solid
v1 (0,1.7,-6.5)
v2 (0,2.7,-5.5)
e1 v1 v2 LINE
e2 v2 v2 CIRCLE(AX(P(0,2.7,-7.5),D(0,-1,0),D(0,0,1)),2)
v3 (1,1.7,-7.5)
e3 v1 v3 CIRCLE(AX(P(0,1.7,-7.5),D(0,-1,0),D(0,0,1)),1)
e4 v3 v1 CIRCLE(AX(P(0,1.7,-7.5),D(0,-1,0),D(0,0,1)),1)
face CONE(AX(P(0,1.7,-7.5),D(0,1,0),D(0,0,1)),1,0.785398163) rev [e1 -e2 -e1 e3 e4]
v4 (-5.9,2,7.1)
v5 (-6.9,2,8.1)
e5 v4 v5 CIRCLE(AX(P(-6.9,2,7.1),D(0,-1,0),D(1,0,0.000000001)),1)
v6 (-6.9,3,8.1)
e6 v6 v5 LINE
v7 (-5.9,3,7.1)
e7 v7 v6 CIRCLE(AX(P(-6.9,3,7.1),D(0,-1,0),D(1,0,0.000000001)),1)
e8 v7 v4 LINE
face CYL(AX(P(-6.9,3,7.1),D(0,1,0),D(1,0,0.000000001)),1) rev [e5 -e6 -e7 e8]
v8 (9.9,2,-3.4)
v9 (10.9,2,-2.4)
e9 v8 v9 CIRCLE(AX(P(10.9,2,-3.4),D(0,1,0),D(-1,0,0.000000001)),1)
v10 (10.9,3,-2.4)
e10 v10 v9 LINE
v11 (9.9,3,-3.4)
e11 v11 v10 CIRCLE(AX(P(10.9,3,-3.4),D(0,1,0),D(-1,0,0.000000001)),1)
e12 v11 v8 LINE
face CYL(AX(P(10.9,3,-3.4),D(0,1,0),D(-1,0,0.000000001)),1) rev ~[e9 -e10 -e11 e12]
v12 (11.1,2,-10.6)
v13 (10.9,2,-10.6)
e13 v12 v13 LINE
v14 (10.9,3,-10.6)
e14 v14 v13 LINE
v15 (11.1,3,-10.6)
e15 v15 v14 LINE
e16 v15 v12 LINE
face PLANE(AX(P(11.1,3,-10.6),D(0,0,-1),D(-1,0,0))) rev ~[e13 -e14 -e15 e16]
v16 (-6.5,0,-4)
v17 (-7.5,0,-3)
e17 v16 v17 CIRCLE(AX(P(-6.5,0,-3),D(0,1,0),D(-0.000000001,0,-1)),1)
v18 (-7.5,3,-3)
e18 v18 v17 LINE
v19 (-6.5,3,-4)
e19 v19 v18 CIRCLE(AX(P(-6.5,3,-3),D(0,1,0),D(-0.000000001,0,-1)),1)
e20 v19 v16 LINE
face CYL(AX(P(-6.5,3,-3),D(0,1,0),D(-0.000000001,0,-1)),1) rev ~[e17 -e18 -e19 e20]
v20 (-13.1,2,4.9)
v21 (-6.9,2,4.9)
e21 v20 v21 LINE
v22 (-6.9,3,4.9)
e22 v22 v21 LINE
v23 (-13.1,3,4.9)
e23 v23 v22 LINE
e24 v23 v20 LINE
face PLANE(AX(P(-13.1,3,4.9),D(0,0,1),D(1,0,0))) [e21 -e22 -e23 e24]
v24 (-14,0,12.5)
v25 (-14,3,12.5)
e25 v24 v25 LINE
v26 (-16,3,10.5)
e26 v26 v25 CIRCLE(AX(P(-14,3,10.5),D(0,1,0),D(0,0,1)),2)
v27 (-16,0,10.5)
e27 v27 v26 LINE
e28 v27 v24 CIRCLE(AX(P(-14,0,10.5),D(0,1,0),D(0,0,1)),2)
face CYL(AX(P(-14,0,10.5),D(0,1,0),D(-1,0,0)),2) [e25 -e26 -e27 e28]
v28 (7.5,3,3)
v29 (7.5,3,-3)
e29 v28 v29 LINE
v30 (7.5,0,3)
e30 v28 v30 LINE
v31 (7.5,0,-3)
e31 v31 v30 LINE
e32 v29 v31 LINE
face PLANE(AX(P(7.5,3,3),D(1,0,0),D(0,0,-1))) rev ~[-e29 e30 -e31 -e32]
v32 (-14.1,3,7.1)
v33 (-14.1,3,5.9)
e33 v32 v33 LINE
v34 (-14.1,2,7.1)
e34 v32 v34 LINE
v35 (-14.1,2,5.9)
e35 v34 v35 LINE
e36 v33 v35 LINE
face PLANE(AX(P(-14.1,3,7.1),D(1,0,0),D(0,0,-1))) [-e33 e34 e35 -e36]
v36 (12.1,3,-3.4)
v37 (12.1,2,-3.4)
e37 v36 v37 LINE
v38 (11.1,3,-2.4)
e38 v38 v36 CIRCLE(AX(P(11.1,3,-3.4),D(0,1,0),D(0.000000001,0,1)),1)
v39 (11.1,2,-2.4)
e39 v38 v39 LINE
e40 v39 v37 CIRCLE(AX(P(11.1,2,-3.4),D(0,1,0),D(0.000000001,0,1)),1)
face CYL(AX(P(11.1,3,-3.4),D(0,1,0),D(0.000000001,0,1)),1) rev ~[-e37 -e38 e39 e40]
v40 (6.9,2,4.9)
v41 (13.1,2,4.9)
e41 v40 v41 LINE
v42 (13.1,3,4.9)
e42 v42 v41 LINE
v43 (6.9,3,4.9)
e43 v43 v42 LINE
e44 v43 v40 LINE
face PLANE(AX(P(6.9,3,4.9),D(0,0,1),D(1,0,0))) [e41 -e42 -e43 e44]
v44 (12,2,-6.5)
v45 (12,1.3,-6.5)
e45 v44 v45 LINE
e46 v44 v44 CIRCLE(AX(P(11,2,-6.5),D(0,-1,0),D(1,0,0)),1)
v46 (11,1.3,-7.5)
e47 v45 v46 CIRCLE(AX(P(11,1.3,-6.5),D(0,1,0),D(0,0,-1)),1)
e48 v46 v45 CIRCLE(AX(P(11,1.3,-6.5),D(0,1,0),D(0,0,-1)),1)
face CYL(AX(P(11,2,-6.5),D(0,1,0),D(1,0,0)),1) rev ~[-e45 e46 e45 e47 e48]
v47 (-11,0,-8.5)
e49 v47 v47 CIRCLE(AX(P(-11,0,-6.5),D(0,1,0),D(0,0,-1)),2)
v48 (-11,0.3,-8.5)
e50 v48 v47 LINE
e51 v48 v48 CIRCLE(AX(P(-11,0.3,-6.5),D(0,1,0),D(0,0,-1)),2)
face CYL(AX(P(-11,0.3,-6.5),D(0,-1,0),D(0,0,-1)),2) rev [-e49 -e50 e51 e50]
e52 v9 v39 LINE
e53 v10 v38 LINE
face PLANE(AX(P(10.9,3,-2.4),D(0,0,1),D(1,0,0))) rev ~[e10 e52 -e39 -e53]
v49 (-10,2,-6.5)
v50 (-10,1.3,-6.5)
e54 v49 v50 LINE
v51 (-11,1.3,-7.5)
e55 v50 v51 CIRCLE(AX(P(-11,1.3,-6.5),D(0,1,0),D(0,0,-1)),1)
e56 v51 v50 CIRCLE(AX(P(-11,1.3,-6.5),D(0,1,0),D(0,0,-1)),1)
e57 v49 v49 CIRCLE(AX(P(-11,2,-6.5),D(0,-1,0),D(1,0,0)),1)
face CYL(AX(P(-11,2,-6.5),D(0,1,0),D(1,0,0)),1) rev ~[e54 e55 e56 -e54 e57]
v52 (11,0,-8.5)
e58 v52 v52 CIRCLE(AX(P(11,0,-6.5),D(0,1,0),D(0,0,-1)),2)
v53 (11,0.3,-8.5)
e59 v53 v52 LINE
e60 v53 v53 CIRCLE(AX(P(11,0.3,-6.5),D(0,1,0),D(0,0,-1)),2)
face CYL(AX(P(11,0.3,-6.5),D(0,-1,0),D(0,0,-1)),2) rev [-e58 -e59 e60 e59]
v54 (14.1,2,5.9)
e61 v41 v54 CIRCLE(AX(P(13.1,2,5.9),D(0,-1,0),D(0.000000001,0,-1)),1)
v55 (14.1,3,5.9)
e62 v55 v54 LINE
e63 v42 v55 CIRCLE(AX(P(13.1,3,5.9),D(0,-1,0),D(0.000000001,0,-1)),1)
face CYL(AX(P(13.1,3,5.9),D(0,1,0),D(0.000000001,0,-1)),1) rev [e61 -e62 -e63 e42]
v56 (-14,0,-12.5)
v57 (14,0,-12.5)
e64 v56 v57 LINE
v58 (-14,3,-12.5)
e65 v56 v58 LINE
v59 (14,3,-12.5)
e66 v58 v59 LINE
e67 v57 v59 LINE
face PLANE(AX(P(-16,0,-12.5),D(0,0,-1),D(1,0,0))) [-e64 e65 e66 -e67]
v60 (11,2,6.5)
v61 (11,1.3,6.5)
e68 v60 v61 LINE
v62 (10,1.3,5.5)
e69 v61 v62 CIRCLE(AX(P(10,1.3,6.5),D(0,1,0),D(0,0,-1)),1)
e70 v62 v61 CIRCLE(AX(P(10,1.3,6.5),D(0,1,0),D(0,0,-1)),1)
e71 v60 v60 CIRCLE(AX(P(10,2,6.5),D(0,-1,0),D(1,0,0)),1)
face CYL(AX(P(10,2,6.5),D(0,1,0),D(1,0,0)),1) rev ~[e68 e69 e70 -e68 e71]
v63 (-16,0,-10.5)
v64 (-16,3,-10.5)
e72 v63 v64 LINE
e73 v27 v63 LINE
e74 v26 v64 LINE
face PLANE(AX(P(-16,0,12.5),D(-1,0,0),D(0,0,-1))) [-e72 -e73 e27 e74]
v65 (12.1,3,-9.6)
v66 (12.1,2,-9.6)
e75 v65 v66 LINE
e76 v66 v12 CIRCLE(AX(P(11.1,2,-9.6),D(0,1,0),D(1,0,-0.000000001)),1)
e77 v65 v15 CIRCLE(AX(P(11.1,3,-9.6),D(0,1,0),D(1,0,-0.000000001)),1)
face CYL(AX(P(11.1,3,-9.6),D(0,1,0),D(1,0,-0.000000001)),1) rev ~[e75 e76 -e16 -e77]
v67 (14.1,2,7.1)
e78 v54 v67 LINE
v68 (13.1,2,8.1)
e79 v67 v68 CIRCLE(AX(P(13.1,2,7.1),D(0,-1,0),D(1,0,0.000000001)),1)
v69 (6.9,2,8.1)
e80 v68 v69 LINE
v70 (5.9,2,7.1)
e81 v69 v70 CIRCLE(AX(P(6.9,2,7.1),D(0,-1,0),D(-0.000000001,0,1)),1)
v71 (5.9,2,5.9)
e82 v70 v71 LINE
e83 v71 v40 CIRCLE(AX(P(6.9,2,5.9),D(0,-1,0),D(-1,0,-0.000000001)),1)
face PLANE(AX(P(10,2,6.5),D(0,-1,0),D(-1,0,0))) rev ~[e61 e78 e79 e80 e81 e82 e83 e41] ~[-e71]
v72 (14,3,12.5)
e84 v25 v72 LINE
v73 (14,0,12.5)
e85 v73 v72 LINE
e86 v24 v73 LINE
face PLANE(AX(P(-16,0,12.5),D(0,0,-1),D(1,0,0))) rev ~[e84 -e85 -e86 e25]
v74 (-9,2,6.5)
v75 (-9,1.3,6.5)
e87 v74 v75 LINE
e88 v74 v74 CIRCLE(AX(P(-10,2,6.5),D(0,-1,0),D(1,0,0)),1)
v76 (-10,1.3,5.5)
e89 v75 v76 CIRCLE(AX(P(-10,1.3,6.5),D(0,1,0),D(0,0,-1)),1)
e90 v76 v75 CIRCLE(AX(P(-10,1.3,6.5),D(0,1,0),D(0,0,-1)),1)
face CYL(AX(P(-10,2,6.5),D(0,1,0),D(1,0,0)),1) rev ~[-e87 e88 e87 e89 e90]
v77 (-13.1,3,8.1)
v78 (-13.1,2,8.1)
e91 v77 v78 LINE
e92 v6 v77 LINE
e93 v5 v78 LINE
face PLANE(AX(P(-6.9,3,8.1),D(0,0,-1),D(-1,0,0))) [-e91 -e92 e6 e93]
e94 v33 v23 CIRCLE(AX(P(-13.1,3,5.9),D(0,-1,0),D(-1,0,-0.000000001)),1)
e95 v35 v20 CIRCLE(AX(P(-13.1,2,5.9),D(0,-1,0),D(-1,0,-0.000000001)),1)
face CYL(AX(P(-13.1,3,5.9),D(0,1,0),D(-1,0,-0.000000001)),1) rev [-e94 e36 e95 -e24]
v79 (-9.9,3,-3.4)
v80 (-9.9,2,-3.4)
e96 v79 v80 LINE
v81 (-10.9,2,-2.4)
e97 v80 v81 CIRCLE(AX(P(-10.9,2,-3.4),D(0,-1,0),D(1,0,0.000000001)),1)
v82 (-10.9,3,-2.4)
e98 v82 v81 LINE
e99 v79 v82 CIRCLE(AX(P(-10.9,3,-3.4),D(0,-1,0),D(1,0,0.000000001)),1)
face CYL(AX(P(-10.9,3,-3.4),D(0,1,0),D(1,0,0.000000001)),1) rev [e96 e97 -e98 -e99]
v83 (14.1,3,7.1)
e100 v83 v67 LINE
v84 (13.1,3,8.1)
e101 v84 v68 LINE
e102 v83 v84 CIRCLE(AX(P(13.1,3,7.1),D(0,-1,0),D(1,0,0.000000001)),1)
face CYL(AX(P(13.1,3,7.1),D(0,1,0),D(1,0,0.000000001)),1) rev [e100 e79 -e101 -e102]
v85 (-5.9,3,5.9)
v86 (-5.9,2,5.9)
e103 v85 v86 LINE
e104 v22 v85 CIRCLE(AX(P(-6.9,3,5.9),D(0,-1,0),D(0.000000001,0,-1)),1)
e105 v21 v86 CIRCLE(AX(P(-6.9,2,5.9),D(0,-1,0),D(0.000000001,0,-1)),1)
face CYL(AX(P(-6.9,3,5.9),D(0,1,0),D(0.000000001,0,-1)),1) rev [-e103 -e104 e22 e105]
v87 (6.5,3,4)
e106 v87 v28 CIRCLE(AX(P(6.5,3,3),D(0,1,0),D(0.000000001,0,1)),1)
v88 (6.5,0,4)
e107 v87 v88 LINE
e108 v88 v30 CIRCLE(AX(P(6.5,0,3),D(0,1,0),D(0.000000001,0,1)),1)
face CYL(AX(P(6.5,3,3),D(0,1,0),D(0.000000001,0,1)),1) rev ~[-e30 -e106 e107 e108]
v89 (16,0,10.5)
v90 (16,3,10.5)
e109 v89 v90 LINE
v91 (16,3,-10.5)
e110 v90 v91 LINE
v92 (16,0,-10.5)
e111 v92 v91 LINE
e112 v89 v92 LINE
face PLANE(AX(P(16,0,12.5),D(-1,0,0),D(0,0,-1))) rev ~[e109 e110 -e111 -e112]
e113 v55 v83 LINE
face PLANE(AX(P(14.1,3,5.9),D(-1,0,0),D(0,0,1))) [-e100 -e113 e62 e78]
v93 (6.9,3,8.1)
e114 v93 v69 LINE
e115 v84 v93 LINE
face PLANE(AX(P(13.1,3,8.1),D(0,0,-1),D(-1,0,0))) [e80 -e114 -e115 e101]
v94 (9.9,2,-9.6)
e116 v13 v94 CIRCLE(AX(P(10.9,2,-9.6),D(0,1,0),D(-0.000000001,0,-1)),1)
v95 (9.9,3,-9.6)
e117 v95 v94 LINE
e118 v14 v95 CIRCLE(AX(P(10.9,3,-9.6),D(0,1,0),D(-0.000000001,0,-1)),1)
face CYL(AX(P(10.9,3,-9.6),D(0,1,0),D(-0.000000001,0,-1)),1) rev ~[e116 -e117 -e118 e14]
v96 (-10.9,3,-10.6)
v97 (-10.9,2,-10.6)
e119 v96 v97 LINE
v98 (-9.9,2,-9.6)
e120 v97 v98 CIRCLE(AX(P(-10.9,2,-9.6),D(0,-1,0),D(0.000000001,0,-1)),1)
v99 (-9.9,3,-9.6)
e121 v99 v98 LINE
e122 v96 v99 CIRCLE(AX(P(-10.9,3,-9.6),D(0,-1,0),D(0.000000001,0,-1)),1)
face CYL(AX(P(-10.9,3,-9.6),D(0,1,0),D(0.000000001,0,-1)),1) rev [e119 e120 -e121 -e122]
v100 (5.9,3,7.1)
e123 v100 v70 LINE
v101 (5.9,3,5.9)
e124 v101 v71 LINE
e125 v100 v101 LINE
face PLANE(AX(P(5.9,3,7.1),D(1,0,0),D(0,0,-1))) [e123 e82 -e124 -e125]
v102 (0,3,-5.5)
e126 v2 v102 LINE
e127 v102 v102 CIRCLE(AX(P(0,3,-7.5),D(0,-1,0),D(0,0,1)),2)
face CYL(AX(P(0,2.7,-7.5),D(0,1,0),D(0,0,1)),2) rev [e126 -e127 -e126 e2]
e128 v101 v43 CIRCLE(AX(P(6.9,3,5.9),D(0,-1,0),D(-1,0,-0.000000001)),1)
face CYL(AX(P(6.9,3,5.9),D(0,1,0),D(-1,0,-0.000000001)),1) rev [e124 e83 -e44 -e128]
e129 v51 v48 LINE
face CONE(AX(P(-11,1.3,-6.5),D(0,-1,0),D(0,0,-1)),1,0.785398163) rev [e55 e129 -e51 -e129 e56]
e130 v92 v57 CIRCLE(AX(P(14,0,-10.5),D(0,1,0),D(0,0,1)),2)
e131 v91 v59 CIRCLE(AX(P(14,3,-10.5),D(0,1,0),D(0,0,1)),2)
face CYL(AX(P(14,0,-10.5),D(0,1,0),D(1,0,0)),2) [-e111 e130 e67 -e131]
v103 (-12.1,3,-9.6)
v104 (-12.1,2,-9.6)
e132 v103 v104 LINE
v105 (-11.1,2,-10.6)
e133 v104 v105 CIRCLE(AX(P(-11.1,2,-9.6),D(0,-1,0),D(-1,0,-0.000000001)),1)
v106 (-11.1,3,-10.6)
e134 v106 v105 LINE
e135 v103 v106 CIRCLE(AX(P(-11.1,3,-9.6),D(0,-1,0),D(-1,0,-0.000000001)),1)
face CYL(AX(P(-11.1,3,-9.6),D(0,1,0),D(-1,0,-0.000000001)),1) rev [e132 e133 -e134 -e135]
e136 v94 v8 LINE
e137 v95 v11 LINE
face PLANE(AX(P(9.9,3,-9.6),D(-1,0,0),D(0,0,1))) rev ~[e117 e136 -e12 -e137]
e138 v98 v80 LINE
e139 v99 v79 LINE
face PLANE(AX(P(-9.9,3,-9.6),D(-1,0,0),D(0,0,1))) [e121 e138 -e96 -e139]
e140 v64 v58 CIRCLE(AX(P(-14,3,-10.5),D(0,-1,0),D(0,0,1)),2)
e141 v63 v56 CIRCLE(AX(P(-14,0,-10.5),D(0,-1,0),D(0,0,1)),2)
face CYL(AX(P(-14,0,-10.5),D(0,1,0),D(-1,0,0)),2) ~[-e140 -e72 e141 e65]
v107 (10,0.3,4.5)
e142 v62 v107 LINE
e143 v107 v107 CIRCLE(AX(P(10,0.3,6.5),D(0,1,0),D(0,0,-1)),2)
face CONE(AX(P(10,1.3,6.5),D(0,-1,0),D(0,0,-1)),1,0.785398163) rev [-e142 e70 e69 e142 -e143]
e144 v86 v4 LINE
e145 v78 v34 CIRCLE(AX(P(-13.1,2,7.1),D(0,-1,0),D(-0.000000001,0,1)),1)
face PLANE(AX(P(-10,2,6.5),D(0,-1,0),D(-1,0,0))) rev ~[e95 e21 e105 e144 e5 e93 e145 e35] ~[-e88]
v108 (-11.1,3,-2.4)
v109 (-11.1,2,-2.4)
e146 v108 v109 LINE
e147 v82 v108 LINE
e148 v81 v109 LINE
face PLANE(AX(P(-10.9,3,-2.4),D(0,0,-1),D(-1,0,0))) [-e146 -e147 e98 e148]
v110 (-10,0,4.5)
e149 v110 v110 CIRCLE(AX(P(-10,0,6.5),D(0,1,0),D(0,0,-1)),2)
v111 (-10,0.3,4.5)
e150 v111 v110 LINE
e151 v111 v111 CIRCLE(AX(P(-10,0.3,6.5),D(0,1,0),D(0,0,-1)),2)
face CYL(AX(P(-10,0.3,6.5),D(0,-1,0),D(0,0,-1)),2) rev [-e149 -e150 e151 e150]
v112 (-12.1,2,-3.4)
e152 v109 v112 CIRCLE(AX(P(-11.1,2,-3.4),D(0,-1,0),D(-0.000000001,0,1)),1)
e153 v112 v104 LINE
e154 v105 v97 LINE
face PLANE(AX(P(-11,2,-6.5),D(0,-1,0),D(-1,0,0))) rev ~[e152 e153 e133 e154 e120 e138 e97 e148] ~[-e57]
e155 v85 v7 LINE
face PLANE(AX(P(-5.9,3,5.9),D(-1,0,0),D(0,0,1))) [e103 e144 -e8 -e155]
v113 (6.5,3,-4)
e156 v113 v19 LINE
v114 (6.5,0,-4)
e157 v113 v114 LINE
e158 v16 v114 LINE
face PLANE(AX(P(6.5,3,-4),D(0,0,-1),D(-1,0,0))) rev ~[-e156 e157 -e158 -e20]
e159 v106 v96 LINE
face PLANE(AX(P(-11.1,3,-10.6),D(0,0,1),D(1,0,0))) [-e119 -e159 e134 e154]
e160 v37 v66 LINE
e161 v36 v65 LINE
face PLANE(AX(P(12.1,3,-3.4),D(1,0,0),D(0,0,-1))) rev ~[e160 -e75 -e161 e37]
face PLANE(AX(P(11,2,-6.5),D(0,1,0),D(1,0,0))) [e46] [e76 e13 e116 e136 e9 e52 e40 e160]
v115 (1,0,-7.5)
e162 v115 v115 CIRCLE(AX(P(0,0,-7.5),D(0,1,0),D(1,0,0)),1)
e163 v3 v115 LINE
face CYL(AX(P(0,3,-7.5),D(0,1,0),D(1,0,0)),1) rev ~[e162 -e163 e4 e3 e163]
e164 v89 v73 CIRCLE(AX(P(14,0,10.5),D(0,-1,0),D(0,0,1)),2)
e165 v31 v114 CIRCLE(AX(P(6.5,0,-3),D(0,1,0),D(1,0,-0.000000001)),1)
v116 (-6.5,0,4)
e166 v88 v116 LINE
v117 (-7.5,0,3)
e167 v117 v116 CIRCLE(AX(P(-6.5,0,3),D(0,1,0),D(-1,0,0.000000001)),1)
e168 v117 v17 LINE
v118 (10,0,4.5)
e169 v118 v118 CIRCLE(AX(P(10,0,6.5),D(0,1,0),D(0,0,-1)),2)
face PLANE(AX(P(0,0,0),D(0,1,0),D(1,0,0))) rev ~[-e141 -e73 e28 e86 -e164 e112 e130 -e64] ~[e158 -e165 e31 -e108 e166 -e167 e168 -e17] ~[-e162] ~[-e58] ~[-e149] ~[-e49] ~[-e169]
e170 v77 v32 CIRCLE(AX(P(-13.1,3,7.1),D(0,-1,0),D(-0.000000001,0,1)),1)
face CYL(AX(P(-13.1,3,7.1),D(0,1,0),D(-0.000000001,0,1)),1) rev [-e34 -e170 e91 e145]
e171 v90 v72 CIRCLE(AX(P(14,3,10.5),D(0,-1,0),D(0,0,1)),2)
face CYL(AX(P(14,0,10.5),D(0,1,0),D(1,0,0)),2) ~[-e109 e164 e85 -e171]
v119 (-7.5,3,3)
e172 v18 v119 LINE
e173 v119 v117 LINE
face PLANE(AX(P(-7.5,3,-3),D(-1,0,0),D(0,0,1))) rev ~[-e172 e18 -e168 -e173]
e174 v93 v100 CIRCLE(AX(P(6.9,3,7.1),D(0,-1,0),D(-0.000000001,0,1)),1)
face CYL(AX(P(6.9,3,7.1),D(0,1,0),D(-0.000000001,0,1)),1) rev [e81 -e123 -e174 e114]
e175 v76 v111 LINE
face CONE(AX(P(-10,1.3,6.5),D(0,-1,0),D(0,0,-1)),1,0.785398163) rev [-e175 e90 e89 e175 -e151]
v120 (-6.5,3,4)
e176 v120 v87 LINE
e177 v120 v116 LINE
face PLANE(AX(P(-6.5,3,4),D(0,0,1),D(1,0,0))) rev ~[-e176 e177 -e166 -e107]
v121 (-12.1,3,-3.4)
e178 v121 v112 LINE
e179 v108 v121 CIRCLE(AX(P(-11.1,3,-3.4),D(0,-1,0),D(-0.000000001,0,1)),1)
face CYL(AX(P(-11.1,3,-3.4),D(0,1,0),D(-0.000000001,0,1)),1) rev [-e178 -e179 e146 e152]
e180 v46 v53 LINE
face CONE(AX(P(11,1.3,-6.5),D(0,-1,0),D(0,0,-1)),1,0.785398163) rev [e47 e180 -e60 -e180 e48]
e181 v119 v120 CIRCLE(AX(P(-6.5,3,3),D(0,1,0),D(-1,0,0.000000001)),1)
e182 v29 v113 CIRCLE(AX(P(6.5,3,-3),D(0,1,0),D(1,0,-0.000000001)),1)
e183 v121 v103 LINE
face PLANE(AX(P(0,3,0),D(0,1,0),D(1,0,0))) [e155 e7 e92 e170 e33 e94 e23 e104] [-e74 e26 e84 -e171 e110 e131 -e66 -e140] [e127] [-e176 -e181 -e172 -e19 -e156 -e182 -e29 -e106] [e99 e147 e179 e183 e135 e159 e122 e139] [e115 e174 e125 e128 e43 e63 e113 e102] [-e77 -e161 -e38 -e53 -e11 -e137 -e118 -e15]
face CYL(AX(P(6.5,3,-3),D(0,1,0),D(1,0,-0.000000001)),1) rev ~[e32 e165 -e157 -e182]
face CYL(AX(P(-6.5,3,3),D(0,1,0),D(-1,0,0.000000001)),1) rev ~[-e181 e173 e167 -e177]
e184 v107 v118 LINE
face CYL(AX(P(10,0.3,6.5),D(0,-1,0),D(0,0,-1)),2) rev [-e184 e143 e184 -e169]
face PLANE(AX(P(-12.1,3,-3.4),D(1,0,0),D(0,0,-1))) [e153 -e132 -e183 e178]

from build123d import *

# Parameters (mm, degrees)
SKETCH1_W                                      = 32
SKETCH1_H                                      = 25
BOSS_EXTRUDE1_DEPTH                            = 3
CUT_EXTRUDE1_DEPTH                             = 1
CUT_EXTRUDE2_REACH                             = 4
SKETCH3_R                                      = 1
CUT_EXTRUDE3_REACH                             = 5
SKETCH4_R                                      = 1
FILLET1_R                                      = 2
CUT_EXTRUDE4_REACH                             = 5
CSK_FOR_M2_FLAT_HEAD_MACHINE_SCREW5_AT_2_COUNT = 2
CSK_FOR_M2_FLAT_HEAD_MACHINE_SCREW5_AT_2_PITCH = 22
CSK_FOR_M2_FLAT_HEAD_MACHINE_SCREW5_AT_3_COUNT = 2
CSK_FOR_M2_FLAT_HEAD_MACHINE_SCREW5_AT_3_PITCH = 13.03840481
CSK_FOR_M2_FLAT_HEAD_MACHINE_SCREW5_AT_4_COUNT = 2
CSK_FOR_M2_FLAT_HEAD_MACHINE_SCREW5_AT_4_PITCH = 24.69817807


with BuildPart() as part:
    # Sketch1 → Boss-Extrude1 (new body)
    with BuildSketch(Plane(origin=(0, 0, 0), x_dir=(1, 0, 0), z_dir=(0, 1, 0))):
        Rectangle(SKETCH1_W, SKETCH1_H)
    extrude(amount=BOSS_EXTRUDE1_DEPTH)

    # Sketch2 → Cut-Extrude1 (cut)
    with BuildSketch(Plane(origin=(0, 3, 0), x_dir=(1, 0, 0), z_dir=(0, 1, 0))):
        with BuildLine():
            Line((14.1, -5.9), (14.1, -7.1))
            ThreePointArc((14.1, -7.1), (13.807106781, -7.807106781), (13.1, -8.1))
            Line((13.1, -8.1), (6.9, -8.1))
            ThreePointArc((6.9, -8.1), (6.192893219, -7.807106781), (5.9, -7.1))
            Line((5.9, -7.1), (5.9, -5.9))
            ThreePointArc((5.9, -5.9), (6.192893219, -5.192893219), (6.9, -4.9))
            Line((6.9, -4.9), (13.1, -4.9))
            ThreePointArc((13.1, -4.9), (13.807106781, -5.192893219), (14.1, -5.9))
        make_face()
        with BuildLine():
            Line((-13.1, -4.9), (-6.9, -4.9))
            ThreePointArc((-6.9, -4.9), (-6.192893219, -5.192893219), (-5.9, -5.9))
            Line((-5.9, -5.9), (-5.9, -7.1))
            ThreePointArc((-5.9, -7.1), (-6.192893219, -7.807106781), (-6.9, -8.1))
            Line((-6.9, -8.1), (-13.1, -8.1))
            ThreePointArc((-13.1, -8.1), (-13.807106781, -7.807106781), (-14.1, -7.1))
            Line((-14.1, -7.1), (-14.1, -5.9))
            ThreePointArc((-14.1, -5.9), (-13.807106781, -5.192893219), (-13.1, -4.9))
        make_face()
        with BuildLine():
            Line((11.1, 10.6), (10.9, 10.6))
            ThreePointArc((10.9, 10.6), (10.192893219, 10.307106781), (9.9, 9.6))
            Line((9.9, 9.6), (9.9, 3.4))
            ThreePointArc((9.9, 3.4), (10.192893219, 2.692893219), (10.9, 2.4))
            Line((10.9, 2.4), (11.1, 2.4))
            ThreePointArc((11.1, 2.4), (11.807106781, 2.692893219), (12.1, 3.4))
            Line((12.1, 3.4), (12.1, 9.6))
            ThreePointArc((12.1, 9.6), (11.807106781, 10.307106781), (11.1, 10.6))
        make_face()
        with BuildLine():
            Line((-11.1, 10.6), (-10.9, 10.6))
            ThreePointArc((-10.9, 10.6), (-10.192893219, 10.307106781), (-9.9, 9.6))
            Line((-9.9, 9.6), (-9.9, 3.4))
            ThreePointArc((-9.9, 3.4), (-10.192893219, 2.692893219), (-10.9, 2.4))
            Line((-10.9, 2.4), (-11.1, 2.4))
            ThreePointArc((-11.1, 2.4), (-11.807106781, 2.692893219), (-12.1, 3.4))
            Line((-12.1, 3.4), (-12.1, 9.6))
            ThreePointArc((-12.1, 9.6), (-11.807106781, 10.307106781), (-11.1, 10.6))
        make_face()
    extrude(amount=-CUT_EXTRUDE1_DEPTH, mode=Mode.SUBTRACT)

    # Sketch3 → Cut-Extrude2 (cut, up to next)
    with BuildSketch(Plane(origin=(0, 2, 0), x_dir=(1, 0, 0), z_dir=(0, 1, 0)), mode=Mode.PRIVATE) as cut_extrude2_sk1:
        with Locations((-10, -6.5)):
            Circle(SKETCH3_R)
    cut_extrude2_tool1 = extrude(cut_extrude2_sk1.sketch, amount=-CUT_EXTRUDE2_REACH, mode=Mode.PRIVATE) & part.part
    add(cut_extrude2_tool1.solids().sort_by_distance((-10, 2, 6.5))[0], mode=Mode.SUBTRACT)
    # Sketch3 → Cut-Extrude2 (cut, up to next)
    with BuildSketch(Plane(origin=(0, 2, 0), x_dir=(1, 0, 0), z_dir=(0, 1, 0)), mode=Mode.PRIVATE) as cut_extrude2_sk2:
        with Locations((10, -6.5)):
            Circle(SKETCH3_R)
    cut_extrude2_tool2 = extrude(cut_extrude2_sk2.sketch, amount=-CUT_EXTRUDE2_REACH, mode=Mode.PRIVATE) & part.part
    add(cut_extrude2_tool2.solids().sort_by_distance((10, 2, 6.5))[0], mode=Mode.SUBTRACT)
    # Sketch3 → Cut-Extrude2 (cut, up to next)
    with BuildSketch(Plane(origin=(0, 2, 0), x_dir=(1, 0, 0), z_dir=(0, 1, 0)), mode=Mode.PRIVATE) as cut_extrude2_sk3:
        with Locations((-11, 6.5)):
            Circle(SKETCH3_R)
    cut_extrude2_tool3 = extrude(cut_extrude2_sk3.sketch, amount=-CUT_EXTRUDE2_REACH, mode=Mode.PRIVATE) & part.part
    add(cut_extrude2_tool3.solids().sort_by_distance((-11, 2, -6.5))[0], mode=Mode.SUBTRACT)
    # Sketch3 → Cut-Extrude2 (cut, up to next)
    with BuildSketch(Plane(origin=(0, 2, 0), x_dir=(1, 0, 0), z_dir=(0, 1, 0)), mode=Mode.PRIVATE) as cut_extrude2_sk4:
        with Locations((11, 6.5)):
            Circle(SKETCH3_R)
    cut_extrude2_tool4 = extrude(cut_extrude2_sk4.sketch, amount=-CUT_EXTRUDE2_REACH, mode=Mode.PRIVATE) & part.part
    add(cut_extrude2_tool4.solids().sort_by_distance((11, 2, -6.5))[0], mode=Mode.SUBTRACT)

    # Sketch4 → Cut-Extrude3 (cut, up to next)
    with BuildSketch(Plane(origin=(0, 3, 0), x_dir=(1, 0, 0), z_dir=(0, 1, 0)), mode=Mode.PRIVATE) as cut_extrude3_sk1:
        with Locations((0, 7.5)):
            Circle(SKETCH4_R)
    cut_extrude3_tool1 = extrude(cut_extrude3_sk1.sketch, amount=-CUT_EXTRUDE3_REACH, mode=Mode.PRIVATE) & part.part
    add(cut_extrude3_tool1.solids().sort_by_distance((0, 3, -7.5))[0], mode=Mode.SUBTRACT)

    # Sketch12 → CSK for M2 Flat Head Machine Screw4 (revolve, cut)
    with BuildSketch(Plane(origin=(0, 3, -7.5), x_dir=(0, 0, 1), z_dir=(1, 0, 0))):
        Polygon((0, 0), (0, 3), (1, 3), (1, 1.3), (2, 0.3), (2, 0), align=None)
    revolve(axis=Axis((0, 9.35, -7.5), (0, -1, 0)), mode=Mode.SUBTRACT)

    # Fillet1
    fillet1_edges = [part.edges().sort_by_distance(p)[0] for p in [
        (-16, 1.5, -12.5),
        (16, 1.5, -12.5),
        (16, 1.5, 12.5),
        (-16, 1.5, 12.5),
    ]]
    fillet(fillet1_edges, radius=FILLET1_R)

    # Sketch13 → Cut-Extrude4 (cut, up to next)
    with BuildSketch(Plane(origin=(0, 3, 0), x_dir=(1, 0, 0), z_dir=(0, 1, 0)), mode=Mode.PRIVATE) as cut_extrude4_sk1:
        with BuildLine():
            Line((6.5, 4), (-6.5, 4))
            ThreePointArc((-6.5, 4), (-7.207106781, 3.707106781), (-7.5, 3))
            Line((-7.5, 3), (-7.5, -3))
            ThreePointArc((-7.5, -3), (-7.207106781, -3.707106781), (-6.5, -4))
            Line((-6.5, -4), (6.5, -4))
            ThreePointArc((6.5, -4), (7.207106781, -3.707106781), (7.5, -3))
            Line((7.5, -3), (7.5, 3))
            ThreePointArc((7.5, 3), (7.207106781, 3.707106781), (6.5, 4))
        make_face()
    cut_extrude4_tool1 = extrude(cut_extrude4_sk1.sketch, amount=-CUT_EXTRUDE4_REACH, mode=Mode.PRIVATE) & part.part
    add(cut_extrude4_tool1.solids().sort_by_distance((0, 3, 0))[0], mode=Mode.SUBTRACT)

    # Sketch15 → CSK for M2 Flat Head Machine Screw5 (revolve, cut)
    with BuildSketch(Plane(origin=(11, 0, -6.5), x_dir=(0, 0, -1), z_dir=(1, 0, 0))):
        Polygon((0, 0), (0, 3), (1, 3), (1, 1.3), (2, 0.3), (2, 0), align=None)
    csk_for_m2_flat_head_machine_screw5 = revolve(axis=Axis((11, -6.35, -6.5), (0, 1, 0)), mode=Mode.SUBTRACT)

    # CSK for M2 Flat Head Machine Screw5 at 2: CSK for M2 Flat Head Machine Screw5 ×2
    with Locations(*[(-i * CSK_FOR_M2_FLAT_HEAD_MACHINE_SCREW5_AT_2_PITCH, 0, 0) for i in range(1, CSK_FOR_M2_FLAT_HEAD_MACHINE_SCREW5_AT_2_COUNT)]):
        add(csk_for_m2_flat_head_machine_screw5, mode=Mode.SUBTRACT)

    # CSK for M2 Flat Head Machine Screw5 at 3: CSK for M2 Flat Head Machine Screw5 ×2
    with Locations(*[Vector(-0.076696499, 0, 0.997054486) * (i * CSK_FOR_M2_FLAT_HEAD_MACHINE_SCREW5_AT_3_PITCH) for i in range(1, CSK_FOR_M2_FLAT_HEAD_MACHINE_SCREW5_AT_3_COUNT)]):
        add(csk_for_m2_flat_head_machine_screw5, mode=Mode.SUBTRACT)

    # CSK for M2 Flat Head Machine Screw5 at 4: CSK for M2 Flat Head Machine Screw5 ×2
    with Locations(*[Vector(-0.850265147, 0, 0.526354615) * (i * CSK_FOR_M2_FLAT_HEAD_MACHINE_SCREW5_AT_4_PITCH) for i in range(1, CSK_FOR_M2_FLAT_HEAD_MACHINE_SCREW5_AT_4_COUNT)]):
        add(csk_for_m2_flat_head_machine_screw5, mode=Mode.SUBTRACT)


solid = part.part
